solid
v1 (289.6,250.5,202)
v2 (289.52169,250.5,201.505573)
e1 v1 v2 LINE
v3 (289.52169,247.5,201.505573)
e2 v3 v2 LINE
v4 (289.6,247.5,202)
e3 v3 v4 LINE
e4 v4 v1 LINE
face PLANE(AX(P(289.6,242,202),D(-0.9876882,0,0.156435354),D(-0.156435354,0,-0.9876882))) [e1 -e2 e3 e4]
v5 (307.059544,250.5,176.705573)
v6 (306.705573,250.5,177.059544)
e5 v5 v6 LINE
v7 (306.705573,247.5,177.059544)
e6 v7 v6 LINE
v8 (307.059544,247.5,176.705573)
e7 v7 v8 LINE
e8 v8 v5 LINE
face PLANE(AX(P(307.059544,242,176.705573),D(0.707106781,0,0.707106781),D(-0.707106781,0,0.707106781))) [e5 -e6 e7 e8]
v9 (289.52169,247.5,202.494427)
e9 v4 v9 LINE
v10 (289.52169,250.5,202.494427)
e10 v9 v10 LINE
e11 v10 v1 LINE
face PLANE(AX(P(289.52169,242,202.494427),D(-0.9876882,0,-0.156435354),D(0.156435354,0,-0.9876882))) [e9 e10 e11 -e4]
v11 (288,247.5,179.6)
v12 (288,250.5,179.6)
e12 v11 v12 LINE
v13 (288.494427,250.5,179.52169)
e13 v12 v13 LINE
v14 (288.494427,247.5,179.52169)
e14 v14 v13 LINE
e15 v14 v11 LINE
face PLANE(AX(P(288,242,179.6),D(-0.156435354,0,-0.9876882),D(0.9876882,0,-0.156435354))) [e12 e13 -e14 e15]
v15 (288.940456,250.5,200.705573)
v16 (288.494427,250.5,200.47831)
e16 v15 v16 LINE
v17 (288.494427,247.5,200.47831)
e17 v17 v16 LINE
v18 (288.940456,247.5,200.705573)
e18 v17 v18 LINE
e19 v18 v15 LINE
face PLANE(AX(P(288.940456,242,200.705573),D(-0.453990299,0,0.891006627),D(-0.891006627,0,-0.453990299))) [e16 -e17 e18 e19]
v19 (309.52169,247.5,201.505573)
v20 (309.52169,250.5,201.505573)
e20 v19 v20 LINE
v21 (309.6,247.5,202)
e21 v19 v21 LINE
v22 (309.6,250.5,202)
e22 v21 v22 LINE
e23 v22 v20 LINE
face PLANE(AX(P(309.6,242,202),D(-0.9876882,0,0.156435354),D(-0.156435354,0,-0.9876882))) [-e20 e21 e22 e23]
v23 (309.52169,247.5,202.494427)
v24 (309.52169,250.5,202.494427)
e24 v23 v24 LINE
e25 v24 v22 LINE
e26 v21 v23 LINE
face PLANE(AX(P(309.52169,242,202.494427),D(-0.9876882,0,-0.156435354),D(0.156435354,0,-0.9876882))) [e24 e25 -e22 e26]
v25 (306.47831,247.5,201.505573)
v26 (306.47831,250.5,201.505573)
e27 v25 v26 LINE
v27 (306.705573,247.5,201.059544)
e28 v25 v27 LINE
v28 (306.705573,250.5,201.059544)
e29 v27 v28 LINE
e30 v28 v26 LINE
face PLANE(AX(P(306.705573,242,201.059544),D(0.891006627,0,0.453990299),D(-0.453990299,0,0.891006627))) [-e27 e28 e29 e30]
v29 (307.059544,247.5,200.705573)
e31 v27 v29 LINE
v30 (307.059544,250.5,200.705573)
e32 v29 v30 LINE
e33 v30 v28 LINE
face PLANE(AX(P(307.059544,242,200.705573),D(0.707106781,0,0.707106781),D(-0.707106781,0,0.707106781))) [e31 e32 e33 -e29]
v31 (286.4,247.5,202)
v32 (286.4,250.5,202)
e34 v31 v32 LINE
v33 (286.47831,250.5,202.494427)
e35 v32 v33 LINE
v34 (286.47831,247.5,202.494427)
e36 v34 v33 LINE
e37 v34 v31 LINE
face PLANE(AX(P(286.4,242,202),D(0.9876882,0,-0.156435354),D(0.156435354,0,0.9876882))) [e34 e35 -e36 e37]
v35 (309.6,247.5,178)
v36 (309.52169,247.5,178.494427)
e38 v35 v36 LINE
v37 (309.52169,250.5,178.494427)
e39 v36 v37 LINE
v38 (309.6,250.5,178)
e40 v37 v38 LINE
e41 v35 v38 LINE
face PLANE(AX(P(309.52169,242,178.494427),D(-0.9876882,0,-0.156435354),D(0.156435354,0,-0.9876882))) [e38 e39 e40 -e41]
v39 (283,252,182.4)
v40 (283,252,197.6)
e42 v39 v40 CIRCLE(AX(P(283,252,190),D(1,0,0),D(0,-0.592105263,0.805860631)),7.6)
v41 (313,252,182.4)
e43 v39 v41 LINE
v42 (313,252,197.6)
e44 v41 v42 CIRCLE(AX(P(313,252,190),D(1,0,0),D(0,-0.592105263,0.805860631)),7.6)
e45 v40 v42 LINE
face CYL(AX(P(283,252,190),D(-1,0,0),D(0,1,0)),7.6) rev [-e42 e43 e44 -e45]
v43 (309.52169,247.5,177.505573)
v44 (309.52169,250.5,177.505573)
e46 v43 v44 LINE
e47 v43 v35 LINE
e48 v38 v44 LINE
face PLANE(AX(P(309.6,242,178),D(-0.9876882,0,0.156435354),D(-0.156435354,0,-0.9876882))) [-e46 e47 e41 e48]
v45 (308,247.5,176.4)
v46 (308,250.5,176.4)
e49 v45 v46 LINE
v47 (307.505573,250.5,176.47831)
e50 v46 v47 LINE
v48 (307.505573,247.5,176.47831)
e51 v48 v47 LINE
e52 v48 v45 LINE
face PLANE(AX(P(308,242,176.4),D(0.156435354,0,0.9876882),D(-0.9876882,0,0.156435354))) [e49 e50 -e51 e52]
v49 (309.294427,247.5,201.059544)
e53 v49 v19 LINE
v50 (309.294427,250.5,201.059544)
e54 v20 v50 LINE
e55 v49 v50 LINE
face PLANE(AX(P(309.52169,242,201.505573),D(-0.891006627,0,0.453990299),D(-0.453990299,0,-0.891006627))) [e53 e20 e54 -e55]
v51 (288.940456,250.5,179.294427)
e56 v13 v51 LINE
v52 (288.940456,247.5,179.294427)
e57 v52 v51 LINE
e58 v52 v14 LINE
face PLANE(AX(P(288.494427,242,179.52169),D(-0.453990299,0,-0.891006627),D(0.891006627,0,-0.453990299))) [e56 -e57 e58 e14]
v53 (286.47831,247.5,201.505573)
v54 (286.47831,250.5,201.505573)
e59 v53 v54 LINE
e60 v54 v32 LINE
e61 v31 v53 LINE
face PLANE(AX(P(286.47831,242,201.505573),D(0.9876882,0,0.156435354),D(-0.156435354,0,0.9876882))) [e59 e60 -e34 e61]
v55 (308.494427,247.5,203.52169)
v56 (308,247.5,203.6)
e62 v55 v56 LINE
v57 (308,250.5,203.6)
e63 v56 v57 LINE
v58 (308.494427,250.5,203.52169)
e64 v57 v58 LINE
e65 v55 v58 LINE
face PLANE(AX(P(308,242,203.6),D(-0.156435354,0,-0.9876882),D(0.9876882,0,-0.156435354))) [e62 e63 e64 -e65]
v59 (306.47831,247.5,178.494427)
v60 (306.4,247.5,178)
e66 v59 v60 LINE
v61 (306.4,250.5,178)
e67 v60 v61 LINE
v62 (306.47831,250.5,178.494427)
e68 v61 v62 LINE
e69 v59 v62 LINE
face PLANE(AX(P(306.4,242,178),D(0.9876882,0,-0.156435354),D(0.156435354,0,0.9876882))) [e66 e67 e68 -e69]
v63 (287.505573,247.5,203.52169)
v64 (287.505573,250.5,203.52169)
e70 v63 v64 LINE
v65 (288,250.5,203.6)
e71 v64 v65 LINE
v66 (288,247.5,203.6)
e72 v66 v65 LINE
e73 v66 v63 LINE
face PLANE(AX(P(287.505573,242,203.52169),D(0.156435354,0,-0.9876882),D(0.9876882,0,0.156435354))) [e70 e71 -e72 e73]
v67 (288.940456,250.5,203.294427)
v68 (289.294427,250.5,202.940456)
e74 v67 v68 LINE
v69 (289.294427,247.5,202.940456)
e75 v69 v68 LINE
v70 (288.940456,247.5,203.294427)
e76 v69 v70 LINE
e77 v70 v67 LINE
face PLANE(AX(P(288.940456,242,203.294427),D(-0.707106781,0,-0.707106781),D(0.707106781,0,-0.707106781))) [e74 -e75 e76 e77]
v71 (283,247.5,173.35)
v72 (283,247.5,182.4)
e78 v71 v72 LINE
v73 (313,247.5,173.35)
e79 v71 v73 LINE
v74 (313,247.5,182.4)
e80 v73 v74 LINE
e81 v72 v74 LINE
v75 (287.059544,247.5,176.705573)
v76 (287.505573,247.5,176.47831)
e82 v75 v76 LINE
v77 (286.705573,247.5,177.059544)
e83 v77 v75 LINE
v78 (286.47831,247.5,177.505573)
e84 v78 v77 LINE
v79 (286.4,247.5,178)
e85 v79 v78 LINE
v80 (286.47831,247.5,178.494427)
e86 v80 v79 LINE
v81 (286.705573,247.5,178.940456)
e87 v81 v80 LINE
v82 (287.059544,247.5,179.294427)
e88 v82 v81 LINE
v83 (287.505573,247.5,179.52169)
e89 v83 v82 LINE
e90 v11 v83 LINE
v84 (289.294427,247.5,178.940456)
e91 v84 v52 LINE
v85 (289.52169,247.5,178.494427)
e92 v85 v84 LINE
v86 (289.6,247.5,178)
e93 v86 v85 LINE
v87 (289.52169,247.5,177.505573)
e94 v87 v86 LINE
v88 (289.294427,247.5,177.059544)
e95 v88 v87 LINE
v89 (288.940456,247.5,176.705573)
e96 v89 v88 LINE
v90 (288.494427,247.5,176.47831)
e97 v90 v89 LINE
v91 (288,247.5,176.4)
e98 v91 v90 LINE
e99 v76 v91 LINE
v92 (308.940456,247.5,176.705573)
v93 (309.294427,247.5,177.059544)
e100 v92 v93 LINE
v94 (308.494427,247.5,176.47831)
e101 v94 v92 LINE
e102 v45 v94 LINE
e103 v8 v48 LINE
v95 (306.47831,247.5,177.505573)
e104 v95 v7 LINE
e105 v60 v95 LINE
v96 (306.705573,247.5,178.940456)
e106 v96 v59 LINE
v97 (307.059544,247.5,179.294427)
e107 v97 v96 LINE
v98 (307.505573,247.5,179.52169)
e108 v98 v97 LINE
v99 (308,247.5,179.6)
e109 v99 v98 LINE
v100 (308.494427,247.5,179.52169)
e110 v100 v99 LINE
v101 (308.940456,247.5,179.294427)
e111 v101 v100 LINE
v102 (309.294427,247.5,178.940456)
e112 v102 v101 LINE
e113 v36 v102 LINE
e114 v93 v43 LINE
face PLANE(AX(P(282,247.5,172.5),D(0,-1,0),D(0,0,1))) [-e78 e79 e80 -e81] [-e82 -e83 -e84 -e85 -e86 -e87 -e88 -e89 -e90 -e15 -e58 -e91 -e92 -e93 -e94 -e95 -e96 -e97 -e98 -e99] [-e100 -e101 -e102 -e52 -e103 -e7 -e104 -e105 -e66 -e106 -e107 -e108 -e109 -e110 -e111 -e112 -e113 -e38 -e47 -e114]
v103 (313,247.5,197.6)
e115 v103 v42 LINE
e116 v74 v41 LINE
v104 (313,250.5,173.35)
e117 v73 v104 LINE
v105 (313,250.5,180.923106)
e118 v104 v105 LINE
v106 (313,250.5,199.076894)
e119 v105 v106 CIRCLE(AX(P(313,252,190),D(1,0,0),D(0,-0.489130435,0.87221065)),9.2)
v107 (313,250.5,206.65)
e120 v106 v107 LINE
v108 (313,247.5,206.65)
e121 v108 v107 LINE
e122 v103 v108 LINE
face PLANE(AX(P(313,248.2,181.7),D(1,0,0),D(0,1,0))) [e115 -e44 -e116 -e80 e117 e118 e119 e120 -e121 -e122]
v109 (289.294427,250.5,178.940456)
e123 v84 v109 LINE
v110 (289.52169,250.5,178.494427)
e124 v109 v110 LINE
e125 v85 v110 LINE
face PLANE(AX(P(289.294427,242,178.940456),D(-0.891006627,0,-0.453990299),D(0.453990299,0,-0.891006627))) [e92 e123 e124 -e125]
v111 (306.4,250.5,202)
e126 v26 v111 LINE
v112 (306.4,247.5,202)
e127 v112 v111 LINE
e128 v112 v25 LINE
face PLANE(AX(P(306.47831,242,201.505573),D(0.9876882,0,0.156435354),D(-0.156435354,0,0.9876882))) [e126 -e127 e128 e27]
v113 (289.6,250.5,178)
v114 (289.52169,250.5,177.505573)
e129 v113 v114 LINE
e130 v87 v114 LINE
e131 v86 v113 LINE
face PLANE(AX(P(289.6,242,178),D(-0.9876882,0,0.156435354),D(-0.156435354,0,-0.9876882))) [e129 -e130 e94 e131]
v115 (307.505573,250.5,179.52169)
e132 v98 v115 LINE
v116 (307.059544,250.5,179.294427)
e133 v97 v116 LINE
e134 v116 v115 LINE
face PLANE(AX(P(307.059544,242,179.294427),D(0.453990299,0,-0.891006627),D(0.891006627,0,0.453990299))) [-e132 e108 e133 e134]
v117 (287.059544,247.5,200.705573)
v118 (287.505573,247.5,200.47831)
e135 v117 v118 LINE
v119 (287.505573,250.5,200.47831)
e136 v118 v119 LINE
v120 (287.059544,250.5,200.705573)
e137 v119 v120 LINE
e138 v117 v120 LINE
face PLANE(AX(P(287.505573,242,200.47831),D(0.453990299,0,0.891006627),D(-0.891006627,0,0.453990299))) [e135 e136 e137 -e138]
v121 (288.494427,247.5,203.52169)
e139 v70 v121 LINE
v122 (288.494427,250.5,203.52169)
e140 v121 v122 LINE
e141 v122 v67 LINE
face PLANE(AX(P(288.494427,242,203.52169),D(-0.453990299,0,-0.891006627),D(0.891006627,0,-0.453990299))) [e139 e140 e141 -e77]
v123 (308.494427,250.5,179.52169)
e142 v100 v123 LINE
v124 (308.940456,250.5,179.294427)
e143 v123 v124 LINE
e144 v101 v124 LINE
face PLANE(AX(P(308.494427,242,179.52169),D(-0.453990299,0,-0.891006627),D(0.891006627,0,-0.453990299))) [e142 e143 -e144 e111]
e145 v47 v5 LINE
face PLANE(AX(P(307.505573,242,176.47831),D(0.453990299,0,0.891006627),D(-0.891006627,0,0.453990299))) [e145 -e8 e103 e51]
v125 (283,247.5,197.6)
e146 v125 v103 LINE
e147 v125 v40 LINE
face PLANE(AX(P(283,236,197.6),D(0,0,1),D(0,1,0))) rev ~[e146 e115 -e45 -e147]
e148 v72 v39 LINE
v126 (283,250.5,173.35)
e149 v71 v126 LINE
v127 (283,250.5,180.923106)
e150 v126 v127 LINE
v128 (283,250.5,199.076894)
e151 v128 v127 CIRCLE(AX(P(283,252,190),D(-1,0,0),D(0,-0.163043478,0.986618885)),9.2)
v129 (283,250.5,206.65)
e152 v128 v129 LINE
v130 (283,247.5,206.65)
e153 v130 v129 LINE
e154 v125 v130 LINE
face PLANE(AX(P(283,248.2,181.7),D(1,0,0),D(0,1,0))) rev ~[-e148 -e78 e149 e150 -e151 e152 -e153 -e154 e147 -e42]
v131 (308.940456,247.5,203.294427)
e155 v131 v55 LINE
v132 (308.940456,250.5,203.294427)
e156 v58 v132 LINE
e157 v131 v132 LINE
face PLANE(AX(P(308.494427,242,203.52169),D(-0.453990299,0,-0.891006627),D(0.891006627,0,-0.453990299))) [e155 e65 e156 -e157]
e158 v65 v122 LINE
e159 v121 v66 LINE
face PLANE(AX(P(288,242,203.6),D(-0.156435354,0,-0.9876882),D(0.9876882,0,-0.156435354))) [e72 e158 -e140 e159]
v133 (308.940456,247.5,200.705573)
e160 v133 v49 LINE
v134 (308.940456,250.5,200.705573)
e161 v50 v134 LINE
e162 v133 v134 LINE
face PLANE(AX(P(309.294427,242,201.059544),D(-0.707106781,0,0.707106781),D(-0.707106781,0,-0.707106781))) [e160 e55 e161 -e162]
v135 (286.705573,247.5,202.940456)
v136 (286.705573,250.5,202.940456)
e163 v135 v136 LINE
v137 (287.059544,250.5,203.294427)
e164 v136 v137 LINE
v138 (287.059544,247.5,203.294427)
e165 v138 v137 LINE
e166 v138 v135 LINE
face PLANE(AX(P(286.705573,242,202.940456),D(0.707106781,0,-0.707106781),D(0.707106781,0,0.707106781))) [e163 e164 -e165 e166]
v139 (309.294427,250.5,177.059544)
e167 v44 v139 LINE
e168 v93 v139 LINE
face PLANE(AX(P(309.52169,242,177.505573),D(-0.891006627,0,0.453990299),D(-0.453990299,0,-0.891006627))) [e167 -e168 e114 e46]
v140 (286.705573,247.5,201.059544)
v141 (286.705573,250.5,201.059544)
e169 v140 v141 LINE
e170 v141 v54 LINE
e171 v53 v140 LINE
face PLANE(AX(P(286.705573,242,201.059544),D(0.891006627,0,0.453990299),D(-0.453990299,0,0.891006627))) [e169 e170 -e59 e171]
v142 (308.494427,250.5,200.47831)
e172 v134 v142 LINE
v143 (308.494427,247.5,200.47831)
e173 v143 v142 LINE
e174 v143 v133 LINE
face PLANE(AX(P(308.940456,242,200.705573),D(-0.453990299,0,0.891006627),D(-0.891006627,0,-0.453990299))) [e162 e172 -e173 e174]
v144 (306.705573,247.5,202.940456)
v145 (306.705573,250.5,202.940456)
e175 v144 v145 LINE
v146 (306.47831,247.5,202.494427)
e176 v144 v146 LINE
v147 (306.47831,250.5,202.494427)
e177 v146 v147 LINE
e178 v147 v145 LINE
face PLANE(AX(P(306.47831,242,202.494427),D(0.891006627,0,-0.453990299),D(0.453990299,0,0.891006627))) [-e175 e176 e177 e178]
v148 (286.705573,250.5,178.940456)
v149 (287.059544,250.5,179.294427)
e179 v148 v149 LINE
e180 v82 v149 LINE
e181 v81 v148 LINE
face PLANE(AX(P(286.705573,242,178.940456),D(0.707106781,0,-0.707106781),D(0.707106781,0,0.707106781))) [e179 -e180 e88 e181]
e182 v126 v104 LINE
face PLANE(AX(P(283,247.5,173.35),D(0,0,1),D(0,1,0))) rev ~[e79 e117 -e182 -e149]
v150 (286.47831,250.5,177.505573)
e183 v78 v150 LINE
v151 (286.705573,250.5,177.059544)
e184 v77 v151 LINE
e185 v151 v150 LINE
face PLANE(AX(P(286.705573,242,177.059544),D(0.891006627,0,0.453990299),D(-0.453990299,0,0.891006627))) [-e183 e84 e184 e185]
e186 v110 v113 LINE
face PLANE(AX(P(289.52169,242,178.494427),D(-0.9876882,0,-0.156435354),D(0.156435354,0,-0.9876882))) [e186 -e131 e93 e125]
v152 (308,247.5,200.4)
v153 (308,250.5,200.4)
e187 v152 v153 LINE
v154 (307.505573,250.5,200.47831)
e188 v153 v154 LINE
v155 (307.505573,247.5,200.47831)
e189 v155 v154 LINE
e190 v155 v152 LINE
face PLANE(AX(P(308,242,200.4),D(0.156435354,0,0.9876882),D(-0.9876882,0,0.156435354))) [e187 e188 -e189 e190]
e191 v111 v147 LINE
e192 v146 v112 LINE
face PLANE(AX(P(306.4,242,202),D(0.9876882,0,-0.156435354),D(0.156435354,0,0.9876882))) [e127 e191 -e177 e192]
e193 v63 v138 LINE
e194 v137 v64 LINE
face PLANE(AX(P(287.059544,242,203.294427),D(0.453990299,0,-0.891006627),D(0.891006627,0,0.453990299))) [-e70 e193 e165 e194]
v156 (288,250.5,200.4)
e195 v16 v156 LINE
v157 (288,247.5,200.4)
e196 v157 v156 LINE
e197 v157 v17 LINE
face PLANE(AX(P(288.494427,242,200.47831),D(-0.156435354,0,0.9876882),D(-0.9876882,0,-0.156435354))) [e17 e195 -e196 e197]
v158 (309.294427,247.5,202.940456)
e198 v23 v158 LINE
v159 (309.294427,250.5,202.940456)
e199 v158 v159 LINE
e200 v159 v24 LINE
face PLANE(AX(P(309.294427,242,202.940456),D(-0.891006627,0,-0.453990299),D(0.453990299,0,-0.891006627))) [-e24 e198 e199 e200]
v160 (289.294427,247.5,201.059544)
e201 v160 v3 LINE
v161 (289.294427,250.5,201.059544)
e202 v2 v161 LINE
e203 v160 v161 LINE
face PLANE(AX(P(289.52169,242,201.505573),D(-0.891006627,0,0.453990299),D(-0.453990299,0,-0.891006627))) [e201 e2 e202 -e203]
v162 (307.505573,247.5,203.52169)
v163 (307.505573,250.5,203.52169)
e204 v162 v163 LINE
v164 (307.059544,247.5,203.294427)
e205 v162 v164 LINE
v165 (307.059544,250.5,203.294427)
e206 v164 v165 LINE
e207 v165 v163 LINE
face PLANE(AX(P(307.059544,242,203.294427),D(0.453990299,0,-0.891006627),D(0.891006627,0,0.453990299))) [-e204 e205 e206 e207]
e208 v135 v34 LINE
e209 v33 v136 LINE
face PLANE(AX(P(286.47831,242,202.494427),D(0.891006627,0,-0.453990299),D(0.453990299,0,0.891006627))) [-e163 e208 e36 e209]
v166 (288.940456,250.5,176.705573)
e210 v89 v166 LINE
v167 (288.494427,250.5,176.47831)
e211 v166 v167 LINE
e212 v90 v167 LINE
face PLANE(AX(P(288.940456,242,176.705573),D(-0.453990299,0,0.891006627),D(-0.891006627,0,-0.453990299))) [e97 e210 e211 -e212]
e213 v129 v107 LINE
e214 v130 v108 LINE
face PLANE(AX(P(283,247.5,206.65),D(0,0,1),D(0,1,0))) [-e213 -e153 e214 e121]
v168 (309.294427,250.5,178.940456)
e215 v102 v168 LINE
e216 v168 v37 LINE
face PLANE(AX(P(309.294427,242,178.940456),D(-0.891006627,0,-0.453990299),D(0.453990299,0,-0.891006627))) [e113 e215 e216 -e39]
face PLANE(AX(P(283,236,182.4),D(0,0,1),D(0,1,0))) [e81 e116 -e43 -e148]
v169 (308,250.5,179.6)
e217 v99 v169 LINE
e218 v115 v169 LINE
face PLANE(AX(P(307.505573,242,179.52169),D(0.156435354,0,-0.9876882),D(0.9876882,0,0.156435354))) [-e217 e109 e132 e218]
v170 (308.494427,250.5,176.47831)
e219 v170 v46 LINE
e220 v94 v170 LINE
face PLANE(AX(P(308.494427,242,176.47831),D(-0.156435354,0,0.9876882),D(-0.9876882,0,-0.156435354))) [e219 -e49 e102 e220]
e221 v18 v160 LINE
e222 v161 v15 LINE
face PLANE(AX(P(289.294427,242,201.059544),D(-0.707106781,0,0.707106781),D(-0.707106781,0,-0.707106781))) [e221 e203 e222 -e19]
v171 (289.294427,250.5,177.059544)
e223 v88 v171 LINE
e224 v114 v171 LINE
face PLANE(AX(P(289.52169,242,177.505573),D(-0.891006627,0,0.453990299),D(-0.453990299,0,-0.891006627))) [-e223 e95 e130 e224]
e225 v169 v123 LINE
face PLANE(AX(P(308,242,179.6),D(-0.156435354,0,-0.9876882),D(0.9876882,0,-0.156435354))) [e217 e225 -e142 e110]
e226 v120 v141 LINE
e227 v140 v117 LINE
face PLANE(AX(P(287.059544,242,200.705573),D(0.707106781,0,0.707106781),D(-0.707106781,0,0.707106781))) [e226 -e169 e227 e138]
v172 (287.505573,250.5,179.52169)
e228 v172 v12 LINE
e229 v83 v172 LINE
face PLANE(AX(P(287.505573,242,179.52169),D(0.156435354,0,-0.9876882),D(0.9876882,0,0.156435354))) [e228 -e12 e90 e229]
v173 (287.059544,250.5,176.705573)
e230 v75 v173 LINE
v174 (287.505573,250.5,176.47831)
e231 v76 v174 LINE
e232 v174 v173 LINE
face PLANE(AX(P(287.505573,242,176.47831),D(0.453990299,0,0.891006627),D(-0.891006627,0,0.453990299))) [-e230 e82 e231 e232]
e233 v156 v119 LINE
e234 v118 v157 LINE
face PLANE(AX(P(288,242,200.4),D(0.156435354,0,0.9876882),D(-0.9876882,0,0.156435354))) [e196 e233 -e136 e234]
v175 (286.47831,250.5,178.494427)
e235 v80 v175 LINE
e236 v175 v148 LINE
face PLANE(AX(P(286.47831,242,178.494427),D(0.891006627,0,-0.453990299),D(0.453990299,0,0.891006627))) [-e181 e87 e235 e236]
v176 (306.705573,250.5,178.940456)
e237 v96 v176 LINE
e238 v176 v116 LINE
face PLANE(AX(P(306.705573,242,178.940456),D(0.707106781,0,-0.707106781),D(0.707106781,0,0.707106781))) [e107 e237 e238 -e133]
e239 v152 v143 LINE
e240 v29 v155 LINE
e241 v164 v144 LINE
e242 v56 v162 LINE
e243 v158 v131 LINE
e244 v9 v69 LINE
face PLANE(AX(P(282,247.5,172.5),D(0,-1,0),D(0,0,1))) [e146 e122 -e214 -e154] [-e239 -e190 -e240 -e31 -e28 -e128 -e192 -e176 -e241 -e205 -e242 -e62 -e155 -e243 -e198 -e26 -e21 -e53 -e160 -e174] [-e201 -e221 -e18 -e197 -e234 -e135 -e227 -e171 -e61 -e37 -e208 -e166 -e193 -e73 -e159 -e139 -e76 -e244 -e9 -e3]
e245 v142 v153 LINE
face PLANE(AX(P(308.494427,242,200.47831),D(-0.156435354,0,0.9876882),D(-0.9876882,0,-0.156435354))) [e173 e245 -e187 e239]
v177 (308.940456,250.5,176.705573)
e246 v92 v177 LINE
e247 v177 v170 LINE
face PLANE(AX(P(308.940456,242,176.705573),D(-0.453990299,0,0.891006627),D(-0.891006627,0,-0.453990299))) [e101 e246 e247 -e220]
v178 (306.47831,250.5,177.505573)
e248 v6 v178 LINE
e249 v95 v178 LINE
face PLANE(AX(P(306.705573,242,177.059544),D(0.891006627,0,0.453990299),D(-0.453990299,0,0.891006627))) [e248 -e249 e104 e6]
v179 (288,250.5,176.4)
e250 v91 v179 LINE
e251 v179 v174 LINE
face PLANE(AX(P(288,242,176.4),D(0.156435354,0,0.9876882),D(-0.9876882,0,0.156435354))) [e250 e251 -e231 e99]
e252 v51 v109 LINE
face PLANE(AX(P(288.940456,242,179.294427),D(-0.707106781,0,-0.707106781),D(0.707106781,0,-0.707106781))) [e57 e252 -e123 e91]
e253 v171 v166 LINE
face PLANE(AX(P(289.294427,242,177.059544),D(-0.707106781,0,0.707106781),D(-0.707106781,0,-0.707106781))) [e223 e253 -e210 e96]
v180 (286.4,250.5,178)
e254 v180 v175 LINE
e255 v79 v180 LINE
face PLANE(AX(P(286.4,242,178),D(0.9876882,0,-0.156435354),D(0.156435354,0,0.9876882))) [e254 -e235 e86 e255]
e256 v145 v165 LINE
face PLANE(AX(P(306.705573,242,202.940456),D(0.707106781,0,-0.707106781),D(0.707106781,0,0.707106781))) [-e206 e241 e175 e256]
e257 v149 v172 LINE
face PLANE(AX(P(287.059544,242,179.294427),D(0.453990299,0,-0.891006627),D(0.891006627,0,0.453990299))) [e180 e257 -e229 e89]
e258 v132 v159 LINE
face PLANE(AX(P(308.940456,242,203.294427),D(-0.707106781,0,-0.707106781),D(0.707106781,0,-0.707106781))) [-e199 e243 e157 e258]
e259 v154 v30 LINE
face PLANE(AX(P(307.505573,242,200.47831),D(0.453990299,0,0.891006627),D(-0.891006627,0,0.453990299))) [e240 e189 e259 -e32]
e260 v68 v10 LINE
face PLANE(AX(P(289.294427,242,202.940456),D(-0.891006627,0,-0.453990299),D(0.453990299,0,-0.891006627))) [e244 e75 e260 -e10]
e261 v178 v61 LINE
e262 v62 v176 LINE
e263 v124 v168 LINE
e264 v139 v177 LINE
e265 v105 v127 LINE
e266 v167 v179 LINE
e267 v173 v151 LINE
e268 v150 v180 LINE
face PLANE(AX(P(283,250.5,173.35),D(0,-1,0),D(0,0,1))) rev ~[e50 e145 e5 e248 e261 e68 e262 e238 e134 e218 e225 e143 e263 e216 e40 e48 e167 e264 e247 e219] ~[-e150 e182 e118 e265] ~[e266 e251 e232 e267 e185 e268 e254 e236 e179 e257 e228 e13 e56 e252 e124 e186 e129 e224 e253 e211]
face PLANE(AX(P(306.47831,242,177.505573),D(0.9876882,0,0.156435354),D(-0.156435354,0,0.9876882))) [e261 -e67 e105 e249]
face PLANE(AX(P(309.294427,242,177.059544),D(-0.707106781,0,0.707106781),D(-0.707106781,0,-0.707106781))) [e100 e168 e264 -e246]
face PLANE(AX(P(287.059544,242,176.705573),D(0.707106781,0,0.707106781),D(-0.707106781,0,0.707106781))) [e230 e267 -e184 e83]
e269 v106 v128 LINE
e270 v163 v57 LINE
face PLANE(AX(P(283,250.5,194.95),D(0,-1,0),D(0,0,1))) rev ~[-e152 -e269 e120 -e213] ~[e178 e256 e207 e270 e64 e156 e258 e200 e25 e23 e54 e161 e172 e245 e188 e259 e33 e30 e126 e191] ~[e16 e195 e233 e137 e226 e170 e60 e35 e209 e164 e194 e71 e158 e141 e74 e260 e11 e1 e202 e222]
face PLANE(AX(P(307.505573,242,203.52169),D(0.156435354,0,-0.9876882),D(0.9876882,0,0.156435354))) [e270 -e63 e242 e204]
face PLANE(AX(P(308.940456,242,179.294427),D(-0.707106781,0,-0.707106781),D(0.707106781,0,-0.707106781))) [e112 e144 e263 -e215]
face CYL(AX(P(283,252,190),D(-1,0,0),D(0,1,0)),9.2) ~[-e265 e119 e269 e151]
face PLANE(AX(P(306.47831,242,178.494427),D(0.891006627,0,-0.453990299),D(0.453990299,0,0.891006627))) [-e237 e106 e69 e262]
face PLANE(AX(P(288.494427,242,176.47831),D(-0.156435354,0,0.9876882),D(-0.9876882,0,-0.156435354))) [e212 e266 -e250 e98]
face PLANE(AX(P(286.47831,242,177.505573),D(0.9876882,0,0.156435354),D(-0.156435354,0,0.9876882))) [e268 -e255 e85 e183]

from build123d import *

# Parameters (mm, degrees)
PRISM062_DEPTH                = 10
PRISM062_PITCH_ANGLE          = 90
PRISM063_DEPTH                = 10
PRISM063_PITCH_ANGLE          = 90
PRISM064_DEPTH                = 10
PRISM064_PITCH_ANGLE          = 90
PRISM065_DEPTH                = 10
PRISM065_PITCH_ANGLE          = 90
CUBE070_W                     = 5
CUBE070_H                     = 35
CUBE070_DEPTH                 = 32
CUBE069_W                     = 16
CUBE069_H                     = 15.2
CUBE069_DEPTH                 = 30
CUBE065_W                     = 3
CUBE065_H                     = 11.7
CUBE065_DEPTH                 = 30
CUBE066_W                     = 3
CUBE066_H                     = 11.7
CUBE066_DEPTH                 = 30
CUBE067_W                     = 1.6
CUBE067_H                     = 1.6
CUBE067_DEPTH                 = 30
CUBE068_W                     = 1.6
CUBE068_H                     = 1.6
CUBE068_DEPTH                 = 30
CYLINDER017_R                 = 7.6
CYLINDER017_DEPTH             = 30
CYLINDER016_R                 = 9.2
CYLINDER016_DEPTH             = 30
DIFFERENCE046_ROLL_ANGLE      = 90
DIFFERENCE046_PLACEMENT_ANGLE = 90


with BuildPart() as prism062:
    # prism062 → prism062 (new body)
    with BuildSketch(Plane.XY):
        Polygon((1.6, 0), (1.52169, 0.494427), (1.294427, 0.940456), (0.940456, 1.294427), (0.494427, 1.52169), (0, 1.6), (-0.494427, 1.52169), (-0.940456, 1.294427), (-1.294427, 0.940456), (-1.52169, 0.494427), (-1.6, 0), (-1.52169, -0.494427), (-1.294427, -0.940456), (-0.940456, -1.294427), (-0.494427, -1.52169), (0, -1.6), (0.494427, -1.52169), (0.940456, -1.294427), (1.294427, -0.940456), (1.52169, -0.494427), align=None)
    extrude(amount=PRISM062_DEPTH)


with BuildPart() as prism062_1:
    # prism062 pitch: moved
    add(prism062.part.rotate(Axis((0, 0, 0), (0, 1, 0)), PRISM062_PITCH_ANGLE))


with BuildPart() as prism062_2:
    # prism062 placement: moved
    add(prism062_1.part.moved(Location((-10, 12, 10))))


with BuildPart() as prism063:
    # prism063 → prism063 (new body)
    with BuildSketch(Plane.XY):
        Polygon((1.6, 0), (1.52169, 0.494427), (1.294427, 0.940456), (0.940456, 1.294427), (0.494427, 1.52169), (0, 1.6), (-0.494427, 1.52169), (-0.940456, 1.294427), (-1.294427, 0.940456), (-1.52169, 0.494427), (-1.6, 0), (-1.52169, -0.494427), (-1.294427, -0.940456), (-0.940456, -1.294427), (-0.494427, -1.52169), (0, -1.6), (0.494427, -1.52169), (0.940456, -1.294427), (1.294427, -0.940456), (1.52169, -0.494427), align=None)
    extrude(amount=PRISM063_DEPTH)


with BuildPart() as prism063_1:
    # prism063 pitch: moved
    add(prism063.part.rotate(Axis((0, 0, 0), (0, 1, 0)), PRISM063_PITCH_ANGLE))


with BuildPart() as prism063_2:
    # prism063 placement: moved
    add(prism063_1.part.moved(Location((-10, 12, -10))))


with BuildPart() as prism064:
    # prism064 → prism064 (new body)
    with BuildSketch(Plane.XY):
        Polygon((1.6, 0), (1.52169, 0.494427), (1.294427, 0.940456), (0.940456, 1.294427), (0.494427, 1.52169), (0, 1.6), (-0.494427, 1.52169), (-0.940456, 1.294427), (-1.294427, 0.940456), (-1.52169, 0.494427), (-1.6, 0), (-1.52169, -0.494427), (-1.294427, -0.940456), (-0.940456, -1.294427), (-0.494427, -1.52169), (0, -1.6), (0.494427, -1.52169), (0.940456, -1.294427), (1.294427, -0.940456), (1.52169, -0.494427), align=None)
    extrude(amount=PRISM064_DEPTH)


with BuildPart() as prism064_1:
    # prism064 pitch: moved
    add(prism064.part.rotate(Axis((0, 0, 0), (0, 1, 0)), PRISM064_PITCH_ANGLE))


with BuildPart() as prism064_2:
    # prism064 placement: moved
    add(prism064_1.part.moved(Location((-10, -12, 10))))


with BuildPart() as prism065:
    # prism065 → prism065 (new body)
    with BuildSketch(Plane.XY):
        Polygon((1.6, 0), (1.52169, 0.494427), (1.294427, 0.940456), (0.940456, 1.294427), (0.494427, 1.52169), (0, 1.6), (-0.494427, 1.52169), (-0.940456, 1.294427), (-1.294427, 0.940456), (-1.52169, 0.494427), (-1.6, 0), (-1.52169, -0.494427), (-1.294427, -0.940456), (-0.940456, -1.294427), (-0.494427, -1.52169), (0, -1.6), (0.494427, -1.52169), (0.940456, -1.294427), (1.294427, -0.940456), (1.52169, -0.494427), align=None)
    extrude(amount=PRISM065_DEPTH)


with BuildPart() as prism065_1:
    # prism065 pitch: moved
    add(prism065.part.rotate(Axis((0, 0, 0), (0, 1, 0)), PRISM065_PITCH_ANGLE))


with BuildPart() as prism065_2:
    # prism065 placement: moved
    add(prism065_1.part.moved(Location((-10, -12, -10))))


with BuildPart() as cube070:
    # cube070 → cube070 (new body)
    with BuildSketch(Plane(origin=(-9.5, -17.5, -16), x_dir=(1, 0, 0), z_dir=(0, 0, 1))):
        with Locations((2.5, 17.5)):
            Rectangle(CUBE070_W, CUBE070_H)
    extrude(amount=CUBE070_DEPTH)


with BuildPart() as union034:
    # cube069 → cube069 (new body)
    with BuildSketch(Plane(origin=(-16, -7.6, -15), x_dir=(1, 0, 0), z_dir=(0, 0, 1))):
        with Locations((8, 7.6)):
            Rectangle(CUBE069_W, CUBE069_H)
    extrude(amount=CUBE069_DEPTH)

    # union034: union prism062, prism063, prism064, prism065, cube070
    add(prism062_2.part)
    add(prism063_2.part)
    add(prism064_2.part)
    add(prism065_2.part)
    add(cube070.part)


with BuildPart() as cube065:
    # cube065 → cube065 (new body)
    with BuildSketch(Plane(origin=(-4.5, 4.95, -15), x_dir=(1, 0, 0), z_dir=(0, 0, 1))):
        with Locations((1.5, 5.85)):
            Rectangle(CUBE065_W, CUBE065_H)
    extrude(amount=CUBE065_DEPTH)


with BuildPart() as cube066:
    # cube066 → cube066 (new body)
    with BuildSketch(Plane(origin=(-4.5, -16.65, -15), x_dir=(1, 0, 0), z_dir=(0, 0, 1))):
        with Locations((1.5, 5.85)):
            Rectangle(CUBE066_W, CUBE066_H)
    extrude(amount=CUBE066_DEPTH)


with BuildPart() as cube067:
    # cube067 → cube067 (new body)
    with BuildSketch(Plane(origin=(-4.6, 7.5, -15), x_dir=(1, 0, 0), z_dir=(0, 0, 1))):
        with Locations((0.8, 0.8)):
            Rectangle(CUBE067_W, CUBE067_H)
    extrude(amount=CUBE067_DEPTH)


with BuildPart() as cube068:
    # cube068 → cube068 (new body)
    with BuildSketch(Plane(origin=(-4.6, -9.1, -15), x_dir=(1, 0, 0), z_dir=(0, 0, 1))):
        with Locations((0.8, 0.8)):
            Rectangle(CUBE068_W, CUBE068_H)
    extrude(amount=CUBE068_DEPTH)


with BuildPart() as cylinder017:
    # cylinder017 → cylinder017 (new body)
    with BuildSketch(Plane.XY.offset(-15)):
        Circle(CYLINDER017_R)
    extrude(amount=CYLINDER017_DEPTH)


with BuildPart() as difference046:
    # cylinder016 → cylinder016 (new body)
    with BuildSketch(Plane.XY.offset(-15)):
        Circle(CYLINDER016_R)
    extrude(amount=CYLINDER016_DEPTH)

    # difference045: cut cylinder017
    add(cylinder017.part, mode=Mode.SUBTRACT)

    # union033: union cube065, cube066, cube067, cube068
    add(cube065.part)
    add(cube066.part)
    add(cube067.part)
    add(cube068.part)

    # difference046: cut union034
    add(union034.part, mode=Mode.SUBTRACT)


with BuildPart() as difference046_1:
    # difference046 roll: moved
    add(difference046.part.rotate(Axis((0, 0, 0), (1, 0, 0)), DIFFERENCE046_ROLL_ANGLE))


with BuildPart() as difference046_2:
    # difference046 placement: moved
    add(difference046_1.part.moved(Location((298, 252, 190))).rotate(Axis((298, 252, 190), (0, 0, 1)), DIFFERENCE046_PLACEMENT_ANGLE))


solid = difference046_2.part
